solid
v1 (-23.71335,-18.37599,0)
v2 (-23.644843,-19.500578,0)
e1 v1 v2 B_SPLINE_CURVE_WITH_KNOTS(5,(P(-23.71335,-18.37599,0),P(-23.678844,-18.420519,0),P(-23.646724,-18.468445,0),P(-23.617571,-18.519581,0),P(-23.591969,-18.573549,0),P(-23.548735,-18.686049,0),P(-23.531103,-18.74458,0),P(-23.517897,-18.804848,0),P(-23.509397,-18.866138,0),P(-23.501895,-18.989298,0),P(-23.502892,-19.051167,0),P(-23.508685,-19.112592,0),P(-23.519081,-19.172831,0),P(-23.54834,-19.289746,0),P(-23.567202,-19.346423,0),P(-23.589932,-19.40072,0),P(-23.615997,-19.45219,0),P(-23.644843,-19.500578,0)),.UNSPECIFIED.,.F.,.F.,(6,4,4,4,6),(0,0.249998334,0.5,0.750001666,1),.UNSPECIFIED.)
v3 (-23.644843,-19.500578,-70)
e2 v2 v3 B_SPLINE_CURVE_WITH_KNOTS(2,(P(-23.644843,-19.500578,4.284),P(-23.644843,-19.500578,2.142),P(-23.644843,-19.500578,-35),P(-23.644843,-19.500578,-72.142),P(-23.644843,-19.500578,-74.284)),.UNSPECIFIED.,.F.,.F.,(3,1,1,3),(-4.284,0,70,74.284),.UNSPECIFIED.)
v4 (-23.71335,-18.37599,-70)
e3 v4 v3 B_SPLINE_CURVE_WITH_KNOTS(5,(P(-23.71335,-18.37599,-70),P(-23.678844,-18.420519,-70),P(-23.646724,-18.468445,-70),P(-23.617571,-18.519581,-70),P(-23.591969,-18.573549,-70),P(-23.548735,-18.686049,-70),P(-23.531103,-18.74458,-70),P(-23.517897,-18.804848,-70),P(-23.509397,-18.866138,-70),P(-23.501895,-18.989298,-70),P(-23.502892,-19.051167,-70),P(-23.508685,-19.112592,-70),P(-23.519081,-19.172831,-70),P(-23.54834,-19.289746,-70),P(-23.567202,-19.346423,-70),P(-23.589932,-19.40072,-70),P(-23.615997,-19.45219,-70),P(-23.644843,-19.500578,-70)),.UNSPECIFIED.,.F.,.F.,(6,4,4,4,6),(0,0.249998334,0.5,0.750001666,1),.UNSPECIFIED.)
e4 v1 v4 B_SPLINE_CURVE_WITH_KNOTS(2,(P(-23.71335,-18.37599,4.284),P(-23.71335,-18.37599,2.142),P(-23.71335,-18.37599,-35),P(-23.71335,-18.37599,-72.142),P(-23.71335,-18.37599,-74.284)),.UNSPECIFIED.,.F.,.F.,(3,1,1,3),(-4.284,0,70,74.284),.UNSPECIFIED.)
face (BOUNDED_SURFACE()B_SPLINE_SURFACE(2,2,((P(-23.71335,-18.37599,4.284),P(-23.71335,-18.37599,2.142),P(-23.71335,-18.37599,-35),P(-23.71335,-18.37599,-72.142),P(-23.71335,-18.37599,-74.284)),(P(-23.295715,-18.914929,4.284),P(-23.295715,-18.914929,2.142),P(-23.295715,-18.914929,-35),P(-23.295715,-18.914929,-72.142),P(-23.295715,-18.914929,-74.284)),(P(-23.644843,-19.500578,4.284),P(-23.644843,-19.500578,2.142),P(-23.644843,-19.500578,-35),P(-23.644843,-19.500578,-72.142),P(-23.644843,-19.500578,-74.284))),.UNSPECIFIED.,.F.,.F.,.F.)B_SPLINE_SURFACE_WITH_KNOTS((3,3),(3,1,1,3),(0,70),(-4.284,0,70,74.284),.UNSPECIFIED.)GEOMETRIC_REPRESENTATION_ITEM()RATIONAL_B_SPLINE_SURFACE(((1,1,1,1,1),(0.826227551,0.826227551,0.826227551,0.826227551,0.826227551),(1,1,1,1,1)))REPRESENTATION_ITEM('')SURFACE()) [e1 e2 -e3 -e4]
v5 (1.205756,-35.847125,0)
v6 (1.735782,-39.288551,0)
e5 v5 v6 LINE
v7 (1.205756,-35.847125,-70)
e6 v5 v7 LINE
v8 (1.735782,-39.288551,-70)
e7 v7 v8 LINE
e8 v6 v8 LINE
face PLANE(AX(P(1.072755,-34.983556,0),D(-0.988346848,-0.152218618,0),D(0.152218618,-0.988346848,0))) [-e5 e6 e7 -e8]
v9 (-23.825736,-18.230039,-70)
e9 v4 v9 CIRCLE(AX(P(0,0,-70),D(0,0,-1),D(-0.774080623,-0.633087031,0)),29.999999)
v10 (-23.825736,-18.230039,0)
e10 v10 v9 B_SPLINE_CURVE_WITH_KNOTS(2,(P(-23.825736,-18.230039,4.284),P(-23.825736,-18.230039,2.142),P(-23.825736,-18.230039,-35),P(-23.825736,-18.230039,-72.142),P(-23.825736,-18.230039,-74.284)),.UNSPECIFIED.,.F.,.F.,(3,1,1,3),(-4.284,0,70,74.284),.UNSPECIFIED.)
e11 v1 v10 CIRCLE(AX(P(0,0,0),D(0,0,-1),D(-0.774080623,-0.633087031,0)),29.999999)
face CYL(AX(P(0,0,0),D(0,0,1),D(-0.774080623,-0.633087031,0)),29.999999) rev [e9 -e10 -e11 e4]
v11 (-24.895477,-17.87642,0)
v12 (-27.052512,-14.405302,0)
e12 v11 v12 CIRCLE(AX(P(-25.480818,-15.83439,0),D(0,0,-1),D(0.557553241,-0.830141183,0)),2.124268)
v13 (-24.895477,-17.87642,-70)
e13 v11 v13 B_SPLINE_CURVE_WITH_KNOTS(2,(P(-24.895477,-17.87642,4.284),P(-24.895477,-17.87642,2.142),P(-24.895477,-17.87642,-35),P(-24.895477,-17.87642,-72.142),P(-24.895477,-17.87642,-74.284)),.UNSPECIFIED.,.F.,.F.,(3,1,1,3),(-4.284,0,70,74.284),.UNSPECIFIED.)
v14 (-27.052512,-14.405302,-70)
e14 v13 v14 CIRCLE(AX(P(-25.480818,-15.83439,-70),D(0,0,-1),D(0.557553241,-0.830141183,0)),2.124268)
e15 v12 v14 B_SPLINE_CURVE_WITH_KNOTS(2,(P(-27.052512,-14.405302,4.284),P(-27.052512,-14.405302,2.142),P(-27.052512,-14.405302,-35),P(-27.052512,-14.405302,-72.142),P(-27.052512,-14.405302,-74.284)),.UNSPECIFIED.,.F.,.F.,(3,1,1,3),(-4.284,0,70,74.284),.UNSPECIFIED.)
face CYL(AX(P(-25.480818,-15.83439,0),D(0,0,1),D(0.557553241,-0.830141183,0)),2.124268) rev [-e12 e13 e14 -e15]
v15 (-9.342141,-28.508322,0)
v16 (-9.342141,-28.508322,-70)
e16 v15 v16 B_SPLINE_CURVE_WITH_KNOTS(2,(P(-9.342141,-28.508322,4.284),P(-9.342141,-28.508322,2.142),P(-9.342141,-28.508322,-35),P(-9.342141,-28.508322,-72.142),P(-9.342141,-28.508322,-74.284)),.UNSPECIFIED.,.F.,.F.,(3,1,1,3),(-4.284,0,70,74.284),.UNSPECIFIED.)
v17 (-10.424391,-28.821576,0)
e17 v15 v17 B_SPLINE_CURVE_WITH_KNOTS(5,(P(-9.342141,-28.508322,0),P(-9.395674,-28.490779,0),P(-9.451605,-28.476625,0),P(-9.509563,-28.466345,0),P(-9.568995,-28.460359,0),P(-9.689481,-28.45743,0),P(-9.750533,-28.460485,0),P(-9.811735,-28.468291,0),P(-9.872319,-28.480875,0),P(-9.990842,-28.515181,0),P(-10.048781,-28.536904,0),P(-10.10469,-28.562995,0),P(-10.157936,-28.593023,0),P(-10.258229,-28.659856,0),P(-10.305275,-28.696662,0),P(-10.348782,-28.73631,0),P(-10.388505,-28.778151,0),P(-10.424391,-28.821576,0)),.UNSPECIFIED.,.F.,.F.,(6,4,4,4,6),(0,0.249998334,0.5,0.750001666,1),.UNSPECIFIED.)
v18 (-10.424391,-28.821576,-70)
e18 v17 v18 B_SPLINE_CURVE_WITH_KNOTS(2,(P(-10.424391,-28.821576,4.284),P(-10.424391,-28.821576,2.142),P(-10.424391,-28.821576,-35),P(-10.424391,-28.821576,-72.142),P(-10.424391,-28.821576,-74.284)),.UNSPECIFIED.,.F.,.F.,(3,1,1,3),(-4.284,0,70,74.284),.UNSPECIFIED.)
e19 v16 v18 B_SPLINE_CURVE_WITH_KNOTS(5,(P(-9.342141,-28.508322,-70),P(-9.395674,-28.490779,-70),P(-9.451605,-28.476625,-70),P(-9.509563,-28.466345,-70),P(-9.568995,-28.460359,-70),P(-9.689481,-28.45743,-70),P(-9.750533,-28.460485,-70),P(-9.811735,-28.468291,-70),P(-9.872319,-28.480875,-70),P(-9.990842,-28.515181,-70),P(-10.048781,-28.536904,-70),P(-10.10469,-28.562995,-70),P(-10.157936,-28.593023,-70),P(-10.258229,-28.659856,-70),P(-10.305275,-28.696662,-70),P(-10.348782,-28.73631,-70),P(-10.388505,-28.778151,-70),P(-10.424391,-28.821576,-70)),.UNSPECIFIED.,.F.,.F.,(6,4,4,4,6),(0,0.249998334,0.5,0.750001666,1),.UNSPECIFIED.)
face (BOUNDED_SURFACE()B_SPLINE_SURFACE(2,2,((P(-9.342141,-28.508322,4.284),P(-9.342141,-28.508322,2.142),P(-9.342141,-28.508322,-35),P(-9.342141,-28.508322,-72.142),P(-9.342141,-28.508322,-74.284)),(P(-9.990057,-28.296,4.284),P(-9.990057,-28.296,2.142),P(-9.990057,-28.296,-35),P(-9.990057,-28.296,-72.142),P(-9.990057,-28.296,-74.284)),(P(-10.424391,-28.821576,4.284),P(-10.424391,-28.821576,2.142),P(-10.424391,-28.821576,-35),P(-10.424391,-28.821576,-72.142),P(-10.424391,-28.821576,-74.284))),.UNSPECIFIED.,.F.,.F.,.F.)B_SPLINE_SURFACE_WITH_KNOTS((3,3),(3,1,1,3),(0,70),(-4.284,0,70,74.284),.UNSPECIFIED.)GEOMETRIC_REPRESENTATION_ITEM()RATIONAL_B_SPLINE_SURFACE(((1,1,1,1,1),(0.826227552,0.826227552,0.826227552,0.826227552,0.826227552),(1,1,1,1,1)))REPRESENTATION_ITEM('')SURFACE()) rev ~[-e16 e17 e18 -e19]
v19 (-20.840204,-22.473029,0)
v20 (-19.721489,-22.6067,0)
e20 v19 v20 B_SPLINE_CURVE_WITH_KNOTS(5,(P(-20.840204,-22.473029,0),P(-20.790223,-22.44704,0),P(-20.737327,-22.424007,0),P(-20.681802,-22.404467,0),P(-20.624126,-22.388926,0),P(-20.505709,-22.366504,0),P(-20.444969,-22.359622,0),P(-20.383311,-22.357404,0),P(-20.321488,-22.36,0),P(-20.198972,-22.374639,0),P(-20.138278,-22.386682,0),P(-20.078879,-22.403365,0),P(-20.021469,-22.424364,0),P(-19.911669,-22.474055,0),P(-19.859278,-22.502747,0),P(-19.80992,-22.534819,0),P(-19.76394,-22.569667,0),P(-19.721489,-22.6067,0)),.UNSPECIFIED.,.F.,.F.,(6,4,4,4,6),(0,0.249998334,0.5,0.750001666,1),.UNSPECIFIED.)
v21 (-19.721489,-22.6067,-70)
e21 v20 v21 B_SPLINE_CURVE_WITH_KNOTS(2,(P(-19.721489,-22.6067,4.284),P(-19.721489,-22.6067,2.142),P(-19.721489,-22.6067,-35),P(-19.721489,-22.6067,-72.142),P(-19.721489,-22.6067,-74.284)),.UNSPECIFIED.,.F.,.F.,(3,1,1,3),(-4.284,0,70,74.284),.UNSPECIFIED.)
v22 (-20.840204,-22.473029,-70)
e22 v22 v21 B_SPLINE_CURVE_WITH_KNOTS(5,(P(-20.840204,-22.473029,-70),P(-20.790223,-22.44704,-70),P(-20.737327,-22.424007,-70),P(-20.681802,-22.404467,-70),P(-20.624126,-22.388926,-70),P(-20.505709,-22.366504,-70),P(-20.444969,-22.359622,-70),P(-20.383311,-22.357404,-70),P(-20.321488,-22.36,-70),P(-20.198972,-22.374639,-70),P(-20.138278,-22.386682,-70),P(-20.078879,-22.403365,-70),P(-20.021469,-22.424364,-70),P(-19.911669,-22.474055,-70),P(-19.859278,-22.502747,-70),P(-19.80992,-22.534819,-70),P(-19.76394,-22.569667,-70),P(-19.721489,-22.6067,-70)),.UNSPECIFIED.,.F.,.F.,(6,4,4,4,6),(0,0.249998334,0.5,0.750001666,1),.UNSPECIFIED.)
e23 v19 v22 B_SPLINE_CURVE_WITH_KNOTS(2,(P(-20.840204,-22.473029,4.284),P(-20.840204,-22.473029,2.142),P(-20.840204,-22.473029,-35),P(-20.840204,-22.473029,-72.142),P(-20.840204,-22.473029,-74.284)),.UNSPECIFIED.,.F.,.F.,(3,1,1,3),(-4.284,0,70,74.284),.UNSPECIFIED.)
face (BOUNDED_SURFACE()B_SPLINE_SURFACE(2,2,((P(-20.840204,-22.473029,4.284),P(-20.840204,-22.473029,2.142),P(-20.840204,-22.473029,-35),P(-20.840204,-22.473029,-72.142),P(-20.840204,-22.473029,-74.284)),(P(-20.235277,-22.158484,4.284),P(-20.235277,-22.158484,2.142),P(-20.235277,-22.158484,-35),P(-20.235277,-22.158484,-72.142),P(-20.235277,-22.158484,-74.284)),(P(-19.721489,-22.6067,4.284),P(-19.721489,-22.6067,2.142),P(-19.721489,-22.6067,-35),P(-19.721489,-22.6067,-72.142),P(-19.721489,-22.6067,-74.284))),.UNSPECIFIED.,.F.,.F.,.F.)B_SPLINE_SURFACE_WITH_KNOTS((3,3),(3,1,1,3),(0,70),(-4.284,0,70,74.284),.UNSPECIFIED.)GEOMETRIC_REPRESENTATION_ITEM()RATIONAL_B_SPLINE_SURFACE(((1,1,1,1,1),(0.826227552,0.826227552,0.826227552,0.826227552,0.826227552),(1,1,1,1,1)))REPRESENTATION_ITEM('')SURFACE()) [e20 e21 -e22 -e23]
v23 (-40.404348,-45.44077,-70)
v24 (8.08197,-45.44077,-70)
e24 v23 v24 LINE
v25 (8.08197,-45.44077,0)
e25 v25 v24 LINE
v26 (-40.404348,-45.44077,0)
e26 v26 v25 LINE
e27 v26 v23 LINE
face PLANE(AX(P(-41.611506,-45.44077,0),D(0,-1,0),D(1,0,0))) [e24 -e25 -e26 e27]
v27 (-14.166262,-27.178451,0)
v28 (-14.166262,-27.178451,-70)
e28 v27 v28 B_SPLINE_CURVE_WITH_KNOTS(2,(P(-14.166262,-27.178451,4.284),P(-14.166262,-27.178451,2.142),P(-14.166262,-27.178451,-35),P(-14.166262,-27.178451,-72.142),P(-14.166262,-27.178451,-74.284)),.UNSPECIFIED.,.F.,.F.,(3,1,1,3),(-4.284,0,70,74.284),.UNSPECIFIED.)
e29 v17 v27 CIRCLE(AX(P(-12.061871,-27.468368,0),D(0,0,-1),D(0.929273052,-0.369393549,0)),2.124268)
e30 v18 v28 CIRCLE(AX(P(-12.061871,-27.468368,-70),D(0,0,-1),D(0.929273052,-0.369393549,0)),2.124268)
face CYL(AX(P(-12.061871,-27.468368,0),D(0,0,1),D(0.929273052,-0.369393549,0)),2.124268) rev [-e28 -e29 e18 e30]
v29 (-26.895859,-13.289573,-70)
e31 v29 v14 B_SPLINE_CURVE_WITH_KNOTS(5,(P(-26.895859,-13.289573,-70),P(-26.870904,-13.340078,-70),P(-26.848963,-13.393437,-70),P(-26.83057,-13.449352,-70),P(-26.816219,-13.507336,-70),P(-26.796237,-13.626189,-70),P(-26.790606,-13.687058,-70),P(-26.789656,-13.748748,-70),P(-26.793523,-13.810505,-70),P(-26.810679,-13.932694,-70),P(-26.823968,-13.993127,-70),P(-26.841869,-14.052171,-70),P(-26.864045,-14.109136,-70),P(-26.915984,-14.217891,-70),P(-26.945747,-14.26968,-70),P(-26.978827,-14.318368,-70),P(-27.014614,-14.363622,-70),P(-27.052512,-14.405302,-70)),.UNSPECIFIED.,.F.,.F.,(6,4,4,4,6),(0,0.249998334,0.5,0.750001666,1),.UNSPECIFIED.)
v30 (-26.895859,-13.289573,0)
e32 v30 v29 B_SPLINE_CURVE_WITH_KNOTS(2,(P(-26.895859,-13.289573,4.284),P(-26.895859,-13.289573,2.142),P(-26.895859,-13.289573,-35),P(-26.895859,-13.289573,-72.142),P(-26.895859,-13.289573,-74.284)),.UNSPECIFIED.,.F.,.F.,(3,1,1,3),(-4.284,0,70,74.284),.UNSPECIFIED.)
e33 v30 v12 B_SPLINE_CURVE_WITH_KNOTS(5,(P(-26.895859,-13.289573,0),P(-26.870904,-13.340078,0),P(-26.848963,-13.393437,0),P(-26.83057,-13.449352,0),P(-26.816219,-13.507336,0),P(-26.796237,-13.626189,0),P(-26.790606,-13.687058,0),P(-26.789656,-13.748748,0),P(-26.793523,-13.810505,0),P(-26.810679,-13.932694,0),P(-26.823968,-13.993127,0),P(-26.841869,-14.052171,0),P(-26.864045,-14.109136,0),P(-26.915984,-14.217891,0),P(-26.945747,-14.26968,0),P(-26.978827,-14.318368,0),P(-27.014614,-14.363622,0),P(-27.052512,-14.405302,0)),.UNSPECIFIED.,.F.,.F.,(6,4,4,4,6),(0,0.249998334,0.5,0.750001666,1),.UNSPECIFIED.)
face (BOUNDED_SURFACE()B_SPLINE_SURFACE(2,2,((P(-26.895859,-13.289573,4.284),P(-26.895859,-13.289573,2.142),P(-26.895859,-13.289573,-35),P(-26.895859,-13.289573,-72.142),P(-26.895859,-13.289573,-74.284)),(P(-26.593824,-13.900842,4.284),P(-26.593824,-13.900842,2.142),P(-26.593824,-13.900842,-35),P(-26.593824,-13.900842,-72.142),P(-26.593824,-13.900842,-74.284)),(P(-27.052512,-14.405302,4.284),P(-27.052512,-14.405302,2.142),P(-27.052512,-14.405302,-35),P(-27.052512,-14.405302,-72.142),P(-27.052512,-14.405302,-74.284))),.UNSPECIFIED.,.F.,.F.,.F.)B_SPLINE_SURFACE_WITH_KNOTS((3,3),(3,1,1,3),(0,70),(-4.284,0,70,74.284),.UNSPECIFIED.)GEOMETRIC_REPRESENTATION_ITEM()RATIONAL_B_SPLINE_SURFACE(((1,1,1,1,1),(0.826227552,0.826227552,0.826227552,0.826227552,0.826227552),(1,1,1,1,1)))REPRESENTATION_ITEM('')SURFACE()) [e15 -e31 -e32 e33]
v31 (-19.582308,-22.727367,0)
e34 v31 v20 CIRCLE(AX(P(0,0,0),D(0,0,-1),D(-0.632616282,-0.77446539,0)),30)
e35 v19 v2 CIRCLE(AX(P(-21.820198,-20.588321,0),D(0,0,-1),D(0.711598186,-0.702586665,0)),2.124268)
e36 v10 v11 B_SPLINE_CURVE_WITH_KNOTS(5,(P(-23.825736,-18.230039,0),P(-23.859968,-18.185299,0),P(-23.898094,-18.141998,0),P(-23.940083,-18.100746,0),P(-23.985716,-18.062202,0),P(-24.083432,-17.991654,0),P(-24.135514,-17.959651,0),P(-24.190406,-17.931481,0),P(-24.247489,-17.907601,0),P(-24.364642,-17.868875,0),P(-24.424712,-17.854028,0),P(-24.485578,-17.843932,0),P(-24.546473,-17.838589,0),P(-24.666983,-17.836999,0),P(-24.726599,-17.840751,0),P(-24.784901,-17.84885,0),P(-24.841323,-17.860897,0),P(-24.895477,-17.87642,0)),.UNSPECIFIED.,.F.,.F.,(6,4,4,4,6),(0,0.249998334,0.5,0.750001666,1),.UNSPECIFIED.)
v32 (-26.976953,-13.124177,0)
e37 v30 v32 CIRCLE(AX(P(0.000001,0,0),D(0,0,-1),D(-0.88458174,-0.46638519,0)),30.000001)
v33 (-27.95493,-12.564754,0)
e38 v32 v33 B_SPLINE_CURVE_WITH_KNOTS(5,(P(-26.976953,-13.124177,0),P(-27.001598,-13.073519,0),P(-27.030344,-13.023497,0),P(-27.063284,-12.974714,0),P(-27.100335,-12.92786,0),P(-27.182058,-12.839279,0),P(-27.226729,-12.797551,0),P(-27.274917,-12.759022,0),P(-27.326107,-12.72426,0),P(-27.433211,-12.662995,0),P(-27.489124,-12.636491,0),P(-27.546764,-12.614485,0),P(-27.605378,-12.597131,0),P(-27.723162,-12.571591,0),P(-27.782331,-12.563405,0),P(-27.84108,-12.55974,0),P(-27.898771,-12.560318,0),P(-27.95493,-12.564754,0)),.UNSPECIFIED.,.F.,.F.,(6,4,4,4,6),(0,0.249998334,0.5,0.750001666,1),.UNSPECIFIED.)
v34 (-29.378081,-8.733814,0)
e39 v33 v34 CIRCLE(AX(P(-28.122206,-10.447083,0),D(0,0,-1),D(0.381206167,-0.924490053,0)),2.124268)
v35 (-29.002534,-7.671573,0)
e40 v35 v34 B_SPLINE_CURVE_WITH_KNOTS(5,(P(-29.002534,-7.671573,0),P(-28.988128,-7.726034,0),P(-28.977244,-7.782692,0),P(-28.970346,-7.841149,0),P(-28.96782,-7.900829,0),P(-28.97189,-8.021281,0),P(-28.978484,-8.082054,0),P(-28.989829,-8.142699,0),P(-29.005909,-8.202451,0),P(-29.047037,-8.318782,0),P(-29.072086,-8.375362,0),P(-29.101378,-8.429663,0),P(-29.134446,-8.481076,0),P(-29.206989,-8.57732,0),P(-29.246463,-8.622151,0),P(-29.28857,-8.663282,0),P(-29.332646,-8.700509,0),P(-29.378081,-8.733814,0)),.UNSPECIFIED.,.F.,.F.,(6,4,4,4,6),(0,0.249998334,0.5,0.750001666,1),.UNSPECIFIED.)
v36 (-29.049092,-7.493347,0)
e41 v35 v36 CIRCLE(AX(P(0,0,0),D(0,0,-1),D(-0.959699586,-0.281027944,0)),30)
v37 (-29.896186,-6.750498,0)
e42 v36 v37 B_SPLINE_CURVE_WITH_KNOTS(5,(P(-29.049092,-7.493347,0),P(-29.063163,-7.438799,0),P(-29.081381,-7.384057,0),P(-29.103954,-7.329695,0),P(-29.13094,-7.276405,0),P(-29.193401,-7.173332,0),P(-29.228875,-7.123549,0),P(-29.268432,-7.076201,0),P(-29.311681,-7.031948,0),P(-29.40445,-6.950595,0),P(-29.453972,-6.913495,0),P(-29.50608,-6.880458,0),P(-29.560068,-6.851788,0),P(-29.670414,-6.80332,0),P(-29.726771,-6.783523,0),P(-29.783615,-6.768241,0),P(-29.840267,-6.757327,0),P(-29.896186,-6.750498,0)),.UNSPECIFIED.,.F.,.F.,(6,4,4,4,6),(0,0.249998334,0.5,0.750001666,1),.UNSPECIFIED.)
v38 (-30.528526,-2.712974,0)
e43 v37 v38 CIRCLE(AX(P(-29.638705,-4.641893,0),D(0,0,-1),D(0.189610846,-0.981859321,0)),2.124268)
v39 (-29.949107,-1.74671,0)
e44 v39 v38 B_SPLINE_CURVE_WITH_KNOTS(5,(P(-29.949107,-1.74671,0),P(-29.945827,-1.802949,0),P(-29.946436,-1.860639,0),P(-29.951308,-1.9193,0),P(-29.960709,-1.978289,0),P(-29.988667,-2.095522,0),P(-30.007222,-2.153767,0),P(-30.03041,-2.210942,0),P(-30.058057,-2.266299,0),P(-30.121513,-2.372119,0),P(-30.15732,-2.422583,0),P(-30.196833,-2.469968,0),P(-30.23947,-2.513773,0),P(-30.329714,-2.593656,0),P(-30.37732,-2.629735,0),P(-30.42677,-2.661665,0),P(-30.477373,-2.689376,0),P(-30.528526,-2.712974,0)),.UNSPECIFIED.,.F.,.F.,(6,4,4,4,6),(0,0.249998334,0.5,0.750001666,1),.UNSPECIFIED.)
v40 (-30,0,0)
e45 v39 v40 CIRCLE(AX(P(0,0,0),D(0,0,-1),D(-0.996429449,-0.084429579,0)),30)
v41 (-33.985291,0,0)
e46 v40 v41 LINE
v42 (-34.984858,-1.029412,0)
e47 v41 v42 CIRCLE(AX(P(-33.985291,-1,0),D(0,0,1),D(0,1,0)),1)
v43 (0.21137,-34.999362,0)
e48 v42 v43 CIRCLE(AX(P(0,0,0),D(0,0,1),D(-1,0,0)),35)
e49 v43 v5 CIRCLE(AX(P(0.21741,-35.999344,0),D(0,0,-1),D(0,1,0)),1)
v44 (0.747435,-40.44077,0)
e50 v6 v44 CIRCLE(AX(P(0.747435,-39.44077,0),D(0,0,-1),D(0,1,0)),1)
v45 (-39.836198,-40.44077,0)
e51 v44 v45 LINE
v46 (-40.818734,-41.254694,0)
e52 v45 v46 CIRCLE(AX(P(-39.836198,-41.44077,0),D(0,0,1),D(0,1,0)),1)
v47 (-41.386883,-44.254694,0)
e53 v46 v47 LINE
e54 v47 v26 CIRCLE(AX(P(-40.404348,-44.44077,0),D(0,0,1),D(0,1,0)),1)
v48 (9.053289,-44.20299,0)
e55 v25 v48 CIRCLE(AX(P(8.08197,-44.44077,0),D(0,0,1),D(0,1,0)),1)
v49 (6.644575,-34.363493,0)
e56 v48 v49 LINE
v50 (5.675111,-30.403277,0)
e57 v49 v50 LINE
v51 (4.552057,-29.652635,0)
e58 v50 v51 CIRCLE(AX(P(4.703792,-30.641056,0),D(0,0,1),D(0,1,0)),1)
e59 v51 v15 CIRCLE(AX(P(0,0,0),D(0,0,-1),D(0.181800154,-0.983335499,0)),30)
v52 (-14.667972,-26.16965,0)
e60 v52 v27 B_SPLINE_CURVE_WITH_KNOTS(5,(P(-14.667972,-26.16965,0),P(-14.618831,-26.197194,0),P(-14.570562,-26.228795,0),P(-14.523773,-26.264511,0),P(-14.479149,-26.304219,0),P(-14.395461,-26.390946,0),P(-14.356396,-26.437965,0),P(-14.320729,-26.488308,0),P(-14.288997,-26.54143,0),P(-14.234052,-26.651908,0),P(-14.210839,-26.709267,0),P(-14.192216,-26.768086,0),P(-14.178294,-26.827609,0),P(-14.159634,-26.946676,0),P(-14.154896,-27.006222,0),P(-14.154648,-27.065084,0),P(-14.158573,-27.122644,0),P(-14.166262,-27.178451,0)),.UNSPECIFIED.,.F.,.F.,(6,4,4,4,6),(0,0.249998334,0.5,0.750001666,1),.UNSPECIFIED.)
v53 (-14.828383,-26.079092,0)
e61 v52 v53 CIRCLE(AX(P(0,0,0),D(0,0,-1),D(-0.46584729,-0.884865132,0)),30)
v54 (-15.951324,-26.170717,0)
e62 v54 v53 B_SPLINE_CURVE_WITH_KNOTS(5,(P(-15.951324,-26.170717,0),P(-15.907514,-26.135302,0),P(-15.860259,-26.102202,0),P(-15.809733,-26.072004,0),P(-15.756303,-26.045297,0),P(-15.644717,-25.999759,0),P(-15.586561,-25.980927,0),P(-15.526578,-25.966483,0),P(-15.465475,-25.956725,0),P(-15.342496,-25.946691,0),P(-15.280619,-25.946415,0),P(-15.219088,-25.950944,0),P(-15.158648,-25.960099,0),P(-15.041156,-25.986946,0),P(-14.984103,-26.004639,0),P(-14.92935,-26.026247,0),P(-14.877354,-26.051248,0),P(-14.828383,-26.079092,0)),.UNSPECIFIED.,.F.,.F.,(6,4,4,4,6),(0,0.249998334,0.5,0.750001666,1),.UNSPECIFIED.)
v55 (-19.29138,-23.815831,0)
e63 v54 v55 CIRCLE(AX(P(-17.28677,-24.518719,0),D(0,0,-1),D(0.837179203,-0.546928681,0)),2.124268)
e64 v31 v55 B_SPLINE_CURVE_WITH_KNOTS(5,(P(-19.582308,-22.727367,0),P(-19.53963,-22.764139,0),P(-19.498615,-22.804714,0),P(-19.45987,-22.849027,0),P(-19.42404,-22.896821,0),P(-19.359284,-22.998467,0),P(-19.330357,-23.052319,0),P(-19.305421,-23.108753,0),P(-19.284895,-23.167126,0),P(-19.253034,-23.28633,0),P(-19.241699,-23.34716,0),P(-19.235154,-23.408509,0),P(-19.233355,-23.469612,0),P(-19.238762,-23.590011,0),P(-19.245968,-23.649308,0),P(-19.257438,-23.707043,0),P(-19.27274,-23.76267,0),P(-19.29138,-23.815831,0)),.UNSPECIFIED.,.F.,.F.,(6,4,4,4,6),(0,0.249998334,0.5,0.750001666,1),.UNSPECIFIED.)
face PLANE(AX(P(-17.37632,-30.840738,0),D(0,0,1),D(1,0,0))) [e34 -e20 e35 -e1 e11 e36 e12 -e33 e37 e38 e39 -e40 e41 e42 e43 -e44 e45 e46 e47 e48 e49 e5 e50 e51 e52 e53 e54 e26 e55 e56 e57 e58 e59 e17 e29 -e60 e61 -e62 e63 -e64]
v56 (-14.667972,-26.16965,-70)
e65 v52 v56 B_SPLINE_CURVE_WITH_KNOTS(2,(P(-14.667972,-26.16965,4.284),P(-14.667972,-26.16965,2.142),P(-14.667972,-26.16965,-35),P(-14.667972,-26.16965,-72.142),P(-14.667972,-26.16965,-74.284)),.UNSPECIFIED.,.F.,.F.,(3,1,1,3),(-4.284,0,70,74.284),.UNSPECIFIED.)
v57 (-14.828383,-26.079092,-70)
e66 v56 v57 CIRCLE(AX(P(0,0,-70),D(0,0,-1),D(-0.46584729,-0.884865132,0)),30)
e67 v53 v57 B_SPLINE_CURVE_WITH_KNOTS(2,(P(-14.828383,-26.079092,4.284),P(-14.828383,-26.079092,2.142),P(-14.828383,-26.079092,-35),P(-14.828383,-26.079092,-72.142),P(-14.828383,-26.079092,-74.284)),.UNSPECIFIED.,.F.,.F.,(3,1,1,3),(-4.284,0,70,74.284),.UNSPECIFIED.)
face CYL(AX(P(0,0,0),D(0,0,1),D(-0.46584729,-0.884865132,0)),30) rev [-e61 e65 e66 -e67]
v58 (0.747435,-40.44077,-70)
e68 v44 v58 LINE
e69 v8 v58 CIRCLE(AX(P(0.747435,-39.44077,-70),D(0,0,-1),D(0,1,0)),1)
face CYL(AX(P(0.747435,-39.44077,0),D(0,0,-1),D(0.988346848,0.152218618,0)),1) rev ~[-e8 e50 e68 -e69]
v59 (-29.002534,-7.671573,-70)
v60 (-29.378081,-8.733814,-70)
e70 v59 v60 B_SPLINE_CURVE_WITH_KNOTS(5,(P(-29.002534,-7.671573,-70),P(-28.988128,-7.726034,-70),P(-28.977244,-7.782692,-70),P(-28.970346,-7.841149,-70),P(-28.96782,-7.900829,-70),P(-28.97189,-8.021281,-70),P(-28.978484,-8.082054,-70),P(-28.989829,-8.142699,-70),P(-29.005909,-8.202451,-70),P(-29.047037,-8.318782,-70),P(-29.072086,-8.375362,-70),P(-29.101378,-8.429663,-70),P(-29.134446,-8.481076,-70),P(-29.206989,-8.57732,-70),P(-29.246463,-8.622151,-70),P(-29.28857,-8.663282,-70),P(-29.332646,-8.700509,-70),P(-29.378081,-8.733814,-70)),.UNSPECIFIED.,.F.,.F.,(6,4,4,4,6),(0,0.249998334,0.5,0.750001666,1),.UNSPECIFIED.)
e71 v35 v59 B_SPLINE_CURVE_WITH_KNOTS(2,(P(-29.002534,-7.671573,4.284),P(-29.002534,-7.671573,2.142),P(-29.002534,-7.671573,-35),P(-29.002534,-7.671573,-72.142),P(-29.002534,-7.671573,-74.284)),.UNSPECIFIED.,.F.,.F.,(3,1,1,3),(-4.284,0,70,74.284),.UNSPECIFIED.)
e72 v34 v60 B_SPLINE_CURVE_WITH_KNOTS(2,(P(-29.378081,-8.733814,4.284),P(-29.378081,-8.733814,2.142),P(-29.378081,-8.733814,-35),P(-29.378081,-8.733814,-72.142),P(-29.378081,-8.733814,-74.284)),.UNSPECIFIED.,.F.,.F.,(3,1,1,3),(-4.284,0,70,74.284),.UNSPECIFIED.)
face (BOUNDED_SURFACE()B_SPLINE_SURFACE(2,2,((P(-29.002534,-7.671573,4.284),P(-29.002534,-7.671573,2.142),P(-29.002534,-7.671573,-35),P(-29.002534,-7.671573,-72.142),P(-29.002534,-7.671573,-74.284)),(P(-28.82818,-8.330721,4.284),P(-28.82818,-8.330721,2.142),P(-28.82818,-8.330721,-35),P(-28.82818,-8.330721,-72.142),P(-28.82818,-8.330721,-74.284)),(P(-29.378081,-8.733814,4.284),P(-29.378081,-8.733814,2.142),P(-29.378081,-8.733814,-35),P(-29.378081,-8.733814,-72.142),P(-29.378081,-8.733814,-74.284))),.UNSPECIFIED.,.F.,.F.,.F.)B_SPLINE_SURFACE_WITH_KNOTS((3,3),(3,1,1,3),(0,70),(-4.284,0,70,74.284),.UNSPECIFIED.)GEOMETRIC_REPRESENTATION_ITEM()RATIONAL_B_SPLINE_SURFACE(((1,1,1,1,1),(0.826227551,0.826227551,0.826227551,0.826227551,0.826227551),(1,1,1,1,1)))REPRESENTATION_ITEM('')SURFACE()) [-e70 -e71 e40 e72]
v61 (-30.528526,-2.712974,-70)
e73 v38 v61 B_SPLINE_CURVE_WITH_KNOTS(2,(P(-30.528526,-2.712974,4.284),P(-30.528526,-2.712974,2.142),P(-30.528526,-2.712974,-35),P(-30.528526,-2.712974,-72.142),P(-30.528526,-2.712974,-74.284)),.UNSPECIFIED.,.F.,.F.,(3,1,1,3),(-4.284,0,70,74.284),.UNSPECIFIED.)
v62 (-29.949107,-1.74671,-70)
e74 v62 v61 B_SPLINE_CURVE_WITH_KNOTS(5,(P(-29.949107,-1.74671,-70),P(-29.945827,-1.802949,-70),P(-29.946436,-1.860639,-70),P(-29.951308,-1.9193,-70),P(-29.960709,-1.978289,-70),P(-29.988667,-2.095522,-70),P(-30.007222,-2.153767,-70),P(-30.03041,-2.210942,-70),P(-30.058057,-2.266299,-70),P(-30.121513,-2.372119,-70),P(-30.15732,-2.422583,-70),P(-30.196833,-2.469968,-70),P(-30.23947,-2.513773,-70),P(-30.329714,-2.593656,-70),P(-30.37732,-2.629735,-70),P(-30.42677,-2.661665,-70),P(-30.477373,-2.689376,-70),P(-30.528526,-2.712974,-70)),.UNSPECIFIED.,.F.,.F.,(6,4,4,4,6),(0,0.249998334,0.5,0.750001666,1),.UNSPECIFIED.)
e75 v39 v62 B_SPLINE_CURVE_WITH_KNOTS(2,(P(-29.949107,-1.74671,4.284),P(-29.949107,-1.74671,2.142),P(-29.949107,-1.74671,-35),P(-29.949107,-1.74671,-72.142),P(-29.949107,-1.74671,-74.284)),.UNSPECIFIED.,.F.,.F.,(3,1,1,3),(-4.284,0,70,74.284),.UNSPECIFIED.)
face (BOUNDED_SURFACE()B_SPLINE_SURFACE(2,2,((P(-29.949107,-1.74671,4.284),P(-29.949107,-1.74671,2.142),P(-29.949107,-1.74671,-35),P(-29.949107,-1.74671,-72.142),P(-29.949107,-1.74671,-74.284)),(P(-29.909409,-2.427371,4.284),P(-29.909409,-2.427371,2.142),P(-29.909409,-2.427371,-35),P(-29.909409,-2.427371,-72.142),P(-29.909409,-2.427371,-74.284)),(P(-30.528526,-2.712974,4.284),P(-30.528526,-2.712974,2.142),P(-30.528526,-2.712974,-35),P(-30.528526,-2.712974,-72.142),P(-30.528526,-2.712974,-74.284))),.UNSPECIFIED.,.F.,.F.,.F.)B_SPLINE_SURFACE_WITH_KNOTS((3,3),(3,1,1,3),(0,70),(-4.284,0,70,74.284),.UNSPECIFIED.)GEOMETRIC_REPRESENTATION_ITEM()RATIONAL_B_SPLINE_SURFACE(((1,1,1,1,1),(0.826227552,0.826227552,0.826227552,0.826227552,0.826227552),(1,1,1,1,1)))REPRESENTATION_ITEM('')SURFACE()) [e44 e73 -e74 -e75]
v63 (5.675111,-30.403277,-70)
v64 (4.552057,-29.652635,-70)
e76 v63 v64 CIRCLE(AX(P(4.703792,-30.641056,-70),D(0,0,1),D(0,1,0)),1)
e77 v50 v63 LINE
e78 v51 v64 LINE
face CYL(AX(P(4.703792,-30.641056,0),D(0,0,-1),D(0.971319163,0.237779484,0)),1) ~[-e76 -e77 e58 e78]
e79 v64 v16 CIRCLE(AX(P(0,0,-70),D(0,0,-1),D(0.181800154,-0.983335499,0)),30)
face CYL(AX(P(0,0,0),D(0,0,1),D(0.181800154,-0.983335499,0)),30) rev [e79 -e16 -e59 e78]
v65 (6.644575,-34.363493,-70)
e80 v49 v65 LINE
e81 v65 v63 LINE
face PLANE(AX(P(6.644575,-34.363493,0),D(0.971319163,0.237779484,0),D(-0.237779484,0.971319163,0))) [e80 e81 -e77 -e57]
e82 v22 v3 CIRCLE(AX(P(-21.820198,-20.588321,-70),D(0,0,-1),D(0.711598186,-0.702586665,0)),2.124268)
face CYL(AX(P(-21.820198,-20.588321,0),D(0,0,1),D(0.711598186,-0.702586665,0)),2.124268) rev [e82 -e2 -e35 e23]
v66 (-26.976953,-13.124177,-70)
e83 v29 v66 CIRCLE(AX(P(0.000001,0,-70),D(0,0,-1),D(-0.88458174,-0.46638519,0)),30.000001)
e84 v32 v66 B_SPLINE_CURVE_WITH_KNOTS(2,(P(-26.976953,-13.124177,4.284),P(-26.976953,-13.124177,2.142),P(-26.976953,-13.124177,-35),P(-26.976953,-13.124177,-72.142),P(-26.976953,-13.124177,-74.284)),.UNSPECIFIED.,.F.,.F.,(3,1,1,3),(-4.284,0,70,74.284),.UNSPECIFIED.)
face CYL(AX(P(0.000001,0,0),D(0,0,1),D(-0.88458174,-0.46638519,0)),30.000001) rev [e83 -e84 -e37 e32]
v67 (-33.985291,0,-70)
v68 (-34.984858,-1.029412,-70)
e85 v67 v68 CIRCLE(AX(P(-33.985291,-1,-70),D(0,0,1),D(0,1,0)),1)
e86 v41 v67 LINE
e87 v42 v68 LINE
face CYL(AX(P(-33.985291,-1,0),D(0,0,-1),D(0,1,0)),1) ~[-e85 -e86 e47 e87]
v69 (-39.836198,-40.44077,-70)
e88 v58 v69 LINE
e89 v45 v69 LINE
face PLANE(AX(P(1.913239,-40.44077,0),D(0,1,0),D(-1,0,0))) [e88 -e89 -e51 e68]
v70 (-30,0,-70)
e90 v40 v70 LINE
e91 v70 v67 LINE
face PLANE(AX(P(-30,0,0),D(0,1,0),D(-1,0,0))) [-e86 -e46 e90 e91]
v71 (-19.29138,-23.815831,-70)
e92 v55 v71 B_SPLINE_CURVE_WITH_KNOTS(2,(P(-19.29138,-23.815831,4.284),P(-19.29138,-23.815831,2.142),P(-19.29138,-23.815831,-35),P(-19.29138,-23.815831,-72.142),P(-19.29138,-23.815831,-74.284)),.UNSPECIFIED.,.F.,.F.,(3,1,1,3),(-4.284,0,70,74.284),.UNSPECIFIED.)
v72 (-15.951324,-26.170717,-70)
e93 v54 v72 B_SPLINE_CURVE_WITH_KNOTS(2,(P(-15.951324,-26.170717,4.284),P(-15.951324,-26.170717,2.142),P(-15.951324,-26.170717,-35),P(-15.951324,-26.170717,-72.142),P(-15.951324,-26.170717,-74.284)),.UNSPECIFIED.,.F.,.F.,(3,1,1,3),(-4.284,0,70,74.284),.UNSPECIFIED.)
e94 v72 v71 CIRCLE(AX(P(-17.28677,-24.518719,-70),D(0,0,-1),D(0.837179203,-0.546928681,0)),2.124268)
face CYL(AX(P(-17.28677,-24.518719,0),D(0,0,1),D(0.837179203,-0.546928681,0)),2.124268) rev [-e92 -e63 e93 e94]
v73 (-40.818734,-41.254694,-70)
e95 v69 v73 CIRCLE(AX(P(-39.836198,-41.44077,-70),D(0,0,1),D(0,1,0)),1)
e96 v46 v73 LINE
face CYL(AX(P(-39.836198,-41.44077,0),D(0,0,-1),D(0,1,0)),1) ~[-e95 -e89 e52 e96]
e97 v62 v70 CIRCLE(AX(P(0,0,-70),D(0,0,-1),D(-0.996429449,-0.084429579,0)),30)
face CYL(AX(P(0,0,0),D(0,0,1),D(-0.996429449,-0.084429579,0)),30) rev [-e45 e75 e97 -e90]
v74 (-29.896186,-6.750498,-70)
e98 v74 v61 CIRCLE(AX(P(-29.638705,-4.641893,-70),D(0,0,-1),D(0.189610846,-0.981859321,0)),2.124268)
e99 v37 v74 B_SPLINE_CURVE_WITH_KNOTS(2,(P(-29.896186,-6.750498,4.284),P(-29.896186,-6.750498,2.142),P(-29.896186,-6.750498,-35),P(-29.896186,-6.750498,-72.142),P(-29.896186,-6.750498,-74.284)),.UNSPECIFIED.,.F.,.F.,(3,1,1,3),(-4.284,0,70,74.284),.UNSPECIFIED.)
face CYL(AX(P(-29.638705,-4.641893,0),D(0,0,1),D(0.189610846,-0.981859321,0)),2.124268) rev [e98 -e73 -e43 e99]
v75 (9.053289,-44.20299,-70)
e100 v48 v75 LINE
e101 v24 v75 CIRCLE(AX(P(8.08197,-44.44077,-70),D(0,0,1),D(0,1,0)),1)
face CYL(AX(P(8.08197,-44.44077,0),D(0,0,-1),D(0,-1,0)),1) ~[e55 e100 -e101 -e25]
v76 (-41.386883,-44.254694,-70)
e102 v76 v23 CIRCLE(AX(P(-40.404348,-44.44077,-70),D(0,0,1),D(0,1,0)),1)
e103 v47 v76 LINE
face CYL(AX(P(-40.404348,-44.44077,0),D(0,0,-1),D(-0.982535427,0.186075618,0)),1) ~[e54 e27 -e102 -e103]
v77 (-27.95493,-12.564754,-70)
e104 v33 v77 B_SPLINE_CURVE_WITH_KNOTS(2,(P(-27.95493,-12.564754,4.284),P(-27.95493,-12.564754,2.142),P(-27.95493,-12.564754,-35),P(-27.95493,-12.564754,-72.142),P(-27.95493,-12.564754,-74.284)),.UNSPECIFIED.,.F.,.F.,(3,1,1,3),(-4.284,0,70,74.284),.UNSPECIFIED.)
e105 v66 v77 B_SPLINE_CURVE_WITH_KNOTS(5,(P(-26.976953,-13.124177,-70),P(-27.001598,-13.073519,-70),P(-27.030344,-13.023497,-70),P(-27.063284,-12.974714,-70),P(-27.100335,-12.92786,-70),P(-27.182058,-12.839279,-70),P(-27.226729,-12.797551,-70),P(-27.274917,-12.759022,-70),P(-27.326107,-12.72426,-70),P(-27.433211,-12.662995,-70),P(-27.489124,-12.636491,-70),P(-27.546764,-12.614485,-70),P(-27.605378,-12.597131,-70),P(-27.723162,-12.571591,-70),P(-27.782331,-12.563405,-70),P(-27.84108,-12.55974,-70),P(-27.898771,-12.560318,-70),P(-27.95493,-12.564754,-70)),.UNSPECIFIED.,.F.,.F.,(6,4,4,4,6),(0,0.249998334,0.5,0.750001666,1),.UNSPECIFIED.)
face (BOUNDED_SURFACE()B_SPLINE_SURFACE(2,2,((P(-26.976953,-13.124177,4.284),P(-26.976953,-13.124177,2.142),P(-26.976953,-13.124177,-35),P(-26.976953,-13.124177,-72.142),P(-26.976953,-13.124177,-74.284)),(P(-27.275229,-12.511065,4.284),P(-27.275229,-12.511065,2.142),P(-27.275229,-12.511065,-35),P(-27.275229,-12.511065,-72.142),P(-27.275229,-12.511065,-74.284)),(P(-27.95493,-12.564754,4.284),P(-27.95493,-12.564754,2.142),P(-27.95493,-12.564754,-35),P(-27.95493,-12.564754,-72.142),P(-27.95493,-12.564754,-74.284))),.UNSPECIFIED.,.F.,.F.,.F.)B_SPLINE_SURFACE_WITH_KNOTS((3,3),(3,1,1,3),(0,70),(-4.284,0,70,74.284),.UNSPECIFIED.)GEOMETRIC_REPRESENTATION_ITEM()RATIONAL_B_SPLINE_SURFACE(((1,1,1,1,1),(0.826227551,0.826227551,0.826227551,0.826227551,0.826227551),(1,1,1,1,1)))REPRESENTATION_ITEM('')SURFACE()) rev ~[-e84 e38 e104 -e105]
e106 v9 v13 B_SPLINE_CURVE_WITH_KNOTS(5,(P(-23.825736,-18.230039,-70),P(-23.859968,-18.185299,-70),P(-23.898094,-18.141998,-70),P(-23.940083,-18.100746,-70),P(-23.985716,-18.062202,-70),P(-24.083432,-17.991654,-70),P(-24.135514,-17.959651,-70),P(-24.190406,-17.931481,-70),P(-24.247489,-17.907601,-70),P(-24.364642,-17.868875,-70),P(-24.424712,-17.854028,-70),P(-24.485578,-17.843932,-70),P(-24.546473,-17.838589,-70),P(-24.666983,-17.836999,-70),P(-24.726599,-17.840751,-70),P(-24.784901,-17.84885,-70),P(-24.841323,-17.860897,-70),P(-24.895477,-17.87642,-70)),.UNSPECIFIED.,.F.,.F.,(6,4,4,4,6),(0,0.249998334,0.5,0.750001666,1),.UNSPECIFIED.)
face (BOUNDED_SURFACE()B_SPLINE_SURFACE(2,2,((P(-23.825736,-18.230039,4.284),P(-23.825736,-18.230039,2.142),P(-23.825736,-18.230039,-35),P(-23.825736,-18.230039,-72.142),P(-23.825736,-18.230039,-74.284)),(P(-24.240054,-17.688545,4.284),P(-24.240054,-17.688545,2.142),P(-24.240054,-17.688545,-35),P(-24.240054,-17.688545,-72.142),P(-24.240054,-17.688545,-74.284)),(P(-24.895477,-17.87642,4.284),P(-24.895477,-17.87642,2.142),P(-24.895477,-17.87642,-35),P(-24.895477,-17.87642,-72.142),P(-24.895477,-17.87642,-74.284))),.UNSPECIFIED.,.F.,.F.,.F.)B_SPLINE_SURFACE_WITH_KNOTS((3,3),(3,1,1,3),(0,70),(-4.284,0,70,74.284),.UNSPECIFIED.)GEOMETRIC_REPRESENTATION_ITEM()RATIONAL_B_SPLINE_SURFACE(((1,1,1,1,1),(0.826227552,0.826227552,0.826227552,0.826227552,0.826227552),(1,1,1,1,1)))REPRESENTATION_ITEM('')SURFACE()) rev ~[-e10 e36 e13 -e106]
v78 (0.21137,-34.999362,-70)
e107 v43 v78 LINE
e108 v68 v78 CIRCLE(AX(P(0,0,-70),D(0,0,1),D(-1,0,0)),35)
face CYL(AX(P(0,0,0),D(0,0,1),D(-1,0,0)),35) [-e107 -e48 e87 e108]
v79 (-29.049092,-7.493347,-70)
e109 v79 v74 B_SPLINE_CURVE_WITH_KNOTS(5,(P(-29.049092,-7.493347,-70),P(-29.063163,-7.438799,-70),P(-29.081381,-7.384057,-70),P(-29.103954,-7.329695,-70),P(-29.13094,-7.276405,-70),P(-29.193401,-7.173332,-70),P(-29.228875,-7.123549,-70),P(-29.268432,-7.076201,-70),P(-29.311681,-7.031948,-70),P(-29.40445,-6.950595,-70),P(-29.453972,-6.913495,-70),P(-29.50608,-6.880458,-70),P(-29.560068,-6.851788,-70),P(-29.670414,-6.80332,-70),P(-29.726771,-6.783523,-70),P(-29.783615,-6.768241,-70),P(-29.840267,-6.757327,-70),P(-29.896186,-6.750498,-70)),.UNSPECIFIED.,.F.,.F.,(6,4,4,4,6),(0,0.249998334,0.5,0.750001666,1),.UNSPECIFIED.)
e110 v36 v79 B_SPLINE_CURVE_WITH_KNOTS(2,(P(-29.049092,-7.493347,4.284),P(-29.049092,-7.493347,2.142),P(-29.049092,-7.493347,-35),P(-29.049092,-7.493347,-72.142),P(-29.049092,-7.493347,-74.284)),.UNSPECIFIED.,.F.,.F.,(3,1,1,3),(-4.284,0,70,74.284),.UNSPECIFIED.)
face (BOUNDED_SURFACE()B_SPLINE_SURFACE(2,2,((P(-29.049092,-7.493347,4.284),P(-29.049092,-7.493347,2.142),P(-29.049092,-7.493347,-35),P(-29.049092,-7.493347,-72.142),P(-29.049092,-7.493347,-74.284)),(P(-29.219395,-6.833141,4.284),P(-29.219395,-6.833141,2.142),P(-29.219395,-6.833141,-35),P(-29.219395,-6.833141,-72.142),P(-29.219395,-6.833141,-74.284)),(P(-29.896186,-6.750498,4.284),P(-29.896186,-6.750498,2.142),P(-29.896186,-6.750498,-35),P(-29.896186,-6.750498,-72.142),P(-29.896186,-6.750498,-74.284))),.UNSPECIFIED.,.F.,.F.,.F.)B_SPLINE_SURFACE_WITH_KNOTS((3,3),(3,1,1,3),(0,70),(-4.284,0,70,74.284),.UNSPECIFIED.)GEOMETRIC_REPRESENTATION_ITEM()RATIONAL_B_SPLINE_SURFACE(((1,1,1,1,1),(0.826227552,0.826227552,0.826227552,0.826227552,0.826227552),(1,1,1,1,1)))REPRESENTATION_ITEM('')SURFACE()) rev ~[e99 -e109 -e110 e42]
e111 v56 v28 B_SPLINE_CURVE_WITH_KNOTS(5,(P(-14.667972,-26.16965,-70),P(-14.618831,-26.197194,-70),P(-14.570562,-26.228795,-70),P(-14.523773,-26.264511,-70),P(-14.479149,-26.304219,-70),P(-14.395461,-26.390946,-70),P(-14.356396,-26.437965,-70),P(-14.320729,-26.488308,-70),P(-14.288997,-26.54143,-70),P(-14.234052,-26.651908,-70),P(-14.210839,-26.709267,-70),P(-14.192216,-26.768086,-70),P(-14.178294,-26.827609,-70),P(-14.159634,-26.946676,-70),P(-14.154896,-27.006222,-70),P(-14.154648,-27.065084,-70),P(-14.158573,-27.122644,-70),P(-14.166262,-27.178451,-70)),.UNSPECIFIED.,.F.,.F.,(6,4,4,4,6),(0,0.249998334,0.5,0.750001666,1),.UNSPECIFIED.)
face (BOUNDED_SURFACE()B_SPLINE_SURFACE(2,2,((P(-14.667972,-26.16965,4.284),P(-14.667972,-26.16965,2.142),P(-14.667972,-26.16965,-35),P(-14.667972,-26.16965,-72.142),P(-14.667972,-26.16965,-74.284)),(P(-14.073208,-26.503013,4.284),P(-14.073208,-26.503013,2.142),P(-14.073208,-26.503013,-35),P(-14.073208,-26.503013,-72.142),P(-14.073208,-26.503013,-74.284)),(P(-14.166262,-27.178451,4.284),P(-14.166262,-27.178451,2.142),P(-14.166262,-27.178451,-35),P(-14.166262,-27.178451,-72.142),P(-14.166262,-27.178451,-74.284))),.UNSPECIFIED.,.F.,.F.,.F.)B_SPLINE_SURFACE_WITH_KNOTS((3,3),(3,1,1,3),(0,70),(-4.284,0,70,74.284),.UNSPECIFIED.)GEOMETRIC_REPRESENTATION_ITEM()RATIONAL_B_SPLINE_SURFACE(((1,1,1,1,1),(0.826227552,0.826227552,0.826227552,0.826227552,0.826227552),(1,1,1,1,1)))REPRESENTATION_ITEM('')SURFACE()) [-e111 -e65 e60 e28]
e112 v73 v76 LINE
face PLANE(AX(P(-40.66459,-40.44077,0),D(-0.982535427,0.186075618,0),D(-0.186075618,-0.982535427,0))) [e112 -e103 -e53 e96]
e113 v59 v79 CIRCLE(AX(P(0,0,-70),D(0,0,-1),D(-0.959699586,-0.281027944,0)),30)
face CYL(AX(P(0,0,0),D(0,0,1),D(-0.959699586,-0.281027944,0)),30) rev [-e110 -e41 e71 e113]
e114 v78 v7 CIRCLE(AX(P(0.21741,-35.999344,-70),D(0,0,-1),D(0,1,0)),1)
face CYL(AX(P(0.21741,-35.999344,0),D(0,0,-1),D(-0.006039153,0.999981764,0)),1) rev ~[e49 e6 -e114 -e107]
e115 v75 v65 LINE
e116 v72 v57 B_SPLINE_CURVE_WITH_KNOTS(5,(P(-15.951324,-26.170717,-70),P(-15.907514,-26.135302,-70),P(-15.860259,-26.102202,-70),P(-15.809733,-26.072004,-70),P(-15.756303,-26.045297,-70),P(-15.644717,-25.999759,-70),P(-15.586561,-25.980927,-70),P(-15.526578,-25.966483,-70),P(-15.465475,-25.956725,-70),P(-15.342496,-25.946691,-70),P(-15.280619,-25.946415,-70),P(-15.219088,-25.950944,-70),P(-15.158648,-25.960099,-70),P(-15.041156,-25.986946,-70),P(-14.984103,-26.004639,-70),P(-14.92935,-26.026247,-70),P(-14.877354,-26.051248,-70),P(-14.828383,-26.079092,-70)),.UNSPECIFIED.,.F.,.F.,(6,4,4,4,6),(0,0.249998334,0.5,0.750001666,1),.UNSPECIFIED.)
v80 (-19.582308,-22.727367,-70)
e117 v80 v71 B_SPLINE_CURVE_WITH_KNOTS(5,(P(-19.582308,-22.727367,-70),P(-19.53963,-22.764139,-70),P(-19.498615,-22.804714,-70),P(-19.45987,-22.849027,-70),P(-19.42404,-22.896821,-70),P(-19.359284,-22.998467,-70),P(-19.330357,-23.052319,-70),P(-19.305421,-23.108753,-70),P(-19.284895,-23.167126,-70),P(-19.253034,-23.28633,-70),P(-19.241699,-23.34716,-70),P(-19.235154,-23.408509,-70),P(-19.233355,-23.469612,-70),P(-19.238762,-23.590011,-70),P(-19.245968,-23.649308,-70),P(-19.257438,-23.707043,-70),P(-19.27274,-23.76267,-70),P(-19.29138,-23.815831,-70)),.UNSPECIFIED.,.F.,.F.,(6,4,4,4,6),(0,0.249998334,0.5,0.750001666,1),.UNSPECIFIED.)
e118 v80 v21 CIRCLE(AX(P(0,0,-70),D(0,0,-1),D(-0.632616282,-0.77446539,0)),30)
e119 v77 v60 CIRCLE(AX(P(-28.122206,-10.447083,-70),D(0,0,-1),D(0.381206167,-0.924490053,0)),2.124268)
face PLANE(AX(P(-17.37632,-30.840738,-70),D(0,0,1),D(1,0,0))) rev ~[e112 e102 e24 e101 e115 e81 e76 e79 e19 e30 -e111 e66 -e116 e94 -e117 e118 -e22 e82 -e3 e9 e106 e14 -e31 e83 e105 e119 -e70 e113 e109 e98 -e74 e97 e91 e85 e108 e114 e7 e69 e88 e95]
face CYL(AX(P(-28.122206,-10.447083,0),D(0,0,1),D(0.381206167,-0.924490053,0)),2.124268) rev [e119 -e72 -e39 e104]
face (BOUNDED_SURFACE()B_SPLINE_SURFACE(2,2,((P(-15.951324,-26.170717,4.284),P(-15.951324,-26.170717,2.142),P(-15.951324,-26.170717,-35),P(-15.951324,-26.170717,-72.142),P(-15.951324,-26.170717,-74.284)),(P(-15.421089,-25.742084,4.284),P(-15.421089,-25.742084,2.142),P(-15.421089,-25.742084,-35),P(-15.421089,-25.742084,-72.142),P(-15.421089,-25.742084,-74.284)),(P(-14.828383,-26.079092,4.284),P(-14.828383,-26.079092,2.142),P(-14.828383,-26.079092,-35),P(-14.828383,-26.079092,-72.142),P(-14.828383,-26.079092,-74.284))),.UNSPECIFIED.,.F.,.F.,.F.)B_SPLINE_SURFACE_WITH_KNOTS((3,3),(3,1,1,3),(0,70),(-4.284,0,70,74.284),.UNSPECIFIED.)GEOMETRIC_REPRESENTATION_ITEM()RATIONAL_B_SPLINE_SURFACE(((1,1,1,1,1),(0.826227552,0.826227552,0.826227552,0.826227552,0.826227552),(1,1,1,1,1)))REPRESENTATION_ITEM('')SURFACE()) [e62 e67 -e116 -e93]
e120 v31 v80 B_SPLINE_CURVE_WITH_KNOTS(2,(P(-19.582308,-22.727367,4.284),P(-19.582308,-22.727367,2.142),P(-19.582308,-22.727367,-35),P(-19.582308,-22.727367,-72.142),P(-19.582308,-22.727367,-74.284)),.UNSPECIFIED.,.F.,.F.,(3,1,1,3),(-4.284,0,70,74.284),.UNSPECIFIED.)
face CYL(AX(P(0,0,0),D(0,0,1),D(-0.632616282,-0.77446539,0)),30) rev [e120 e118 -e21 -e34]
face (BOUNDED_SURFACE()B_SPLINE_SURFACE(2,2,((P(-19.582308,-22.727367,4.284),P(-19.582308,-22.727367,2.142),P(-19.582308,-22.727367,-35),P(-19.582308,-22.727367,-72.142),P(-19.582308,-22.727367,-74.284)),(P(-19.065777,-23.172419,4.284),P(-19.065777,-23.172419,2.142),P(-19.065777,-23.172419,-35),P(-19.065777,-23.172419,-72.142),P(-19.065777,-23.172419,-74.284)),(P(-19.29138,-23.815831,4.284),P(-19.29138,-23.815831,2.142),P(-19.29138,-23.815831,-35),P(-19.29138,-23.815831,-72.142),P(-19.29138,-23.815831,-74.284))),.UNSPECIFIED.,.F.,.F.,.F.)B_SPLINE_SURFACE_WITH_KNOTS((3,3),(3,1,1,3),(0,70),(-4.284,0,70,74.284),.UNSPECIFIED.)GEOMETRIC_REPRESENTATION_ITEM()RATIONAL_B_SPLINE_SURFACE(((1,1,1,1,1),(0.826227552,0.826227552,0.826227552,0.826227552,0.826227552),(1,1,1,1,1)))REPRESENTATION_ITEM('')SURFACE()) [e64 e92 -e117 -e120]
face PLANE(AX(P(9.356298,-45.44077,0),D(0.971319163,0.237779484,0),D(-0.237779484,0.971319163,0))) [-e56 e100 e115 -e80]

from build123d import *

# Parameters (mm, degrees)
BOSS_EXTRUDE1_DEPTH = 70
FILLET1_R           = 1
FILLET2_R           = 1
FILLET3_R           = 1
FILLET4_R           = 1
FILLET5_R           = 1


with BuildPart() as part:
    # Sketch1 → Boss-Extrude1 (new body)
    with BuildSketch(Plane.XY):
        with BuildLine():
            Line((-30, 0), (-35, 0))
            ThreePointArc((-35, 0), (-24.366509464, -25.125151075), (1.07275523, -34.983556083))
            Line((1.07275523, -34.983556083), (1.913239039, -40.440769755))
            Line((1.913239039, -40.440769755), (-40.664590355, -40.440769755))
            Line((-40.664590355, -40.440769755), (-41.611505919, -45.440769755))
            Line((-41.611505919, -45.440769755), (9.356298233, -45.440769755))
            Line((9.356298233, -45.440769755), (6.644574503, -34.363492687))
            Line((6.644574503, -34.363492687), (5.454004631, -29.500064974))
            ThreePointArc((5.454004631, -29.500064974), (-2.399349656, -29.903898094), (-10.087846616, -28.253059138))
            ThreePointArc((-10.087846616, -28.253059138), (-12.915959233, -29.413373854), (-13.975418711, -26.545953964))
            ThreePointArc((-13.975418711, -26.545953964), (-14.748247142, -26.124494373), (-15.508377464, -25.680541825))
            ThreePointArc((-15.508377464, -25.680541825), (-18.510827542, -26.254862942), (-18.978488477, -23.233961675))
            ThreePointArc((-18.978488477, -23.233961675), (-19.65199094, -22.66714036), (-20.308573214, -22.080802839))
            ThreePointArc((-20.308573214, -22.080802839), (-23.365262749, -22.046157513), (-23.222418703, -18.99261092))
            ThreePointArc((-23.222418703, -18.99261092), (-23.7696551, -18.303100733), (-24.296426035, -17.59783174))
            ThreePointArc((-24.296426035, -17.59783174), (-27.285087446, -16.955605782), (-26.537452182, -13.991555728))
            ThreePointArc((-26.537452182, -13.991555728), (-26.936533055, -13.206937077), (-27.312421814, -12.410947371))
            ThreePointArc((-27.312421814, -12.410947371), (-30.113508646, -11.186829821), (-28.790987573, -8.430838306))
            ThreePointArc((-28.790987573, -8.430838306), (-29.025949689, -7.582495937), (-29.235920721, -6.727625107))
            ThreePointArc((-29.235920721, -6.727625107), (-31.737389499, -4.970580666), (-29.892883462, -2.532887353))
            ThreePointArc((-29.892883462, -2.532887353), (-29.973208903, -1.267575668), (-30, 0))
        make_face()
    extrude(amount=-BOSS_EXTRUDE1_DEPTH)

    # Fillet1
    fillet1_edges = [part.edges().sort_by_distance(p)[0] for p in [
        (5.454004631, -29.500064974, -35),
        (9.356298233, -45.440769755, -35),
        (-41.611505919, -45.440769755, -35),
        (-40.664590355, -40.440769755, -35),
        (1.913239039, -40.440769755, -35),
        (1.07275523, -34.983556083, -35),
        (-35, 0, -35),
    ]]
    fillet(fillet1_edges, radius=FILLET1_R)

    # Fillet2
    fillet2_edges = [part.edges().sort_by_distance(p)[0] for p in [
        (-29.892883462, -2.532887353, -35),
        (-28.790987573, -8.430838306, -35),
        (-26.537452182, -13.991555728, -35),
        (-23.222418703, -18.99261092, -35),
        (-18.978488477, -23.233961675, -35),
        (-13.975418711, -26.545953964, -35),
    ]]
    fillet(fillet2_edges, radius=FILLET2_R)

    # Fillet3
    fillet3_edges = [part.edges().sort_by_distance(p)[0] for p in [
        (-20.308573214, -22.080802839, -35),
        (-15.508377464, -25.680541825, -35),
        (-10.087846616, -28.253059138, -35),
    ]]
    fillet(fillet3_edges, radius=FILLET3_R)

    # Fillet4
    fillet4_edges = [part.edges().sort_by_distance(p)[0] for p in [
        (-27.312421814, -12.410947371, -35),
        (-24.296426035, -17.59783174, -35),
    ]]
    fillet(fillet4_edges, radius=FILLET4_R)

    # Fillet5
    fillet5_edges = [part.edges().sort_by_distance(p)[0] for p in [
        (-29.235920721, -6.727625107, -35),
    ]]
    fillet(fillet5_edges, radius=FILLET5_R)


solid = part.part
